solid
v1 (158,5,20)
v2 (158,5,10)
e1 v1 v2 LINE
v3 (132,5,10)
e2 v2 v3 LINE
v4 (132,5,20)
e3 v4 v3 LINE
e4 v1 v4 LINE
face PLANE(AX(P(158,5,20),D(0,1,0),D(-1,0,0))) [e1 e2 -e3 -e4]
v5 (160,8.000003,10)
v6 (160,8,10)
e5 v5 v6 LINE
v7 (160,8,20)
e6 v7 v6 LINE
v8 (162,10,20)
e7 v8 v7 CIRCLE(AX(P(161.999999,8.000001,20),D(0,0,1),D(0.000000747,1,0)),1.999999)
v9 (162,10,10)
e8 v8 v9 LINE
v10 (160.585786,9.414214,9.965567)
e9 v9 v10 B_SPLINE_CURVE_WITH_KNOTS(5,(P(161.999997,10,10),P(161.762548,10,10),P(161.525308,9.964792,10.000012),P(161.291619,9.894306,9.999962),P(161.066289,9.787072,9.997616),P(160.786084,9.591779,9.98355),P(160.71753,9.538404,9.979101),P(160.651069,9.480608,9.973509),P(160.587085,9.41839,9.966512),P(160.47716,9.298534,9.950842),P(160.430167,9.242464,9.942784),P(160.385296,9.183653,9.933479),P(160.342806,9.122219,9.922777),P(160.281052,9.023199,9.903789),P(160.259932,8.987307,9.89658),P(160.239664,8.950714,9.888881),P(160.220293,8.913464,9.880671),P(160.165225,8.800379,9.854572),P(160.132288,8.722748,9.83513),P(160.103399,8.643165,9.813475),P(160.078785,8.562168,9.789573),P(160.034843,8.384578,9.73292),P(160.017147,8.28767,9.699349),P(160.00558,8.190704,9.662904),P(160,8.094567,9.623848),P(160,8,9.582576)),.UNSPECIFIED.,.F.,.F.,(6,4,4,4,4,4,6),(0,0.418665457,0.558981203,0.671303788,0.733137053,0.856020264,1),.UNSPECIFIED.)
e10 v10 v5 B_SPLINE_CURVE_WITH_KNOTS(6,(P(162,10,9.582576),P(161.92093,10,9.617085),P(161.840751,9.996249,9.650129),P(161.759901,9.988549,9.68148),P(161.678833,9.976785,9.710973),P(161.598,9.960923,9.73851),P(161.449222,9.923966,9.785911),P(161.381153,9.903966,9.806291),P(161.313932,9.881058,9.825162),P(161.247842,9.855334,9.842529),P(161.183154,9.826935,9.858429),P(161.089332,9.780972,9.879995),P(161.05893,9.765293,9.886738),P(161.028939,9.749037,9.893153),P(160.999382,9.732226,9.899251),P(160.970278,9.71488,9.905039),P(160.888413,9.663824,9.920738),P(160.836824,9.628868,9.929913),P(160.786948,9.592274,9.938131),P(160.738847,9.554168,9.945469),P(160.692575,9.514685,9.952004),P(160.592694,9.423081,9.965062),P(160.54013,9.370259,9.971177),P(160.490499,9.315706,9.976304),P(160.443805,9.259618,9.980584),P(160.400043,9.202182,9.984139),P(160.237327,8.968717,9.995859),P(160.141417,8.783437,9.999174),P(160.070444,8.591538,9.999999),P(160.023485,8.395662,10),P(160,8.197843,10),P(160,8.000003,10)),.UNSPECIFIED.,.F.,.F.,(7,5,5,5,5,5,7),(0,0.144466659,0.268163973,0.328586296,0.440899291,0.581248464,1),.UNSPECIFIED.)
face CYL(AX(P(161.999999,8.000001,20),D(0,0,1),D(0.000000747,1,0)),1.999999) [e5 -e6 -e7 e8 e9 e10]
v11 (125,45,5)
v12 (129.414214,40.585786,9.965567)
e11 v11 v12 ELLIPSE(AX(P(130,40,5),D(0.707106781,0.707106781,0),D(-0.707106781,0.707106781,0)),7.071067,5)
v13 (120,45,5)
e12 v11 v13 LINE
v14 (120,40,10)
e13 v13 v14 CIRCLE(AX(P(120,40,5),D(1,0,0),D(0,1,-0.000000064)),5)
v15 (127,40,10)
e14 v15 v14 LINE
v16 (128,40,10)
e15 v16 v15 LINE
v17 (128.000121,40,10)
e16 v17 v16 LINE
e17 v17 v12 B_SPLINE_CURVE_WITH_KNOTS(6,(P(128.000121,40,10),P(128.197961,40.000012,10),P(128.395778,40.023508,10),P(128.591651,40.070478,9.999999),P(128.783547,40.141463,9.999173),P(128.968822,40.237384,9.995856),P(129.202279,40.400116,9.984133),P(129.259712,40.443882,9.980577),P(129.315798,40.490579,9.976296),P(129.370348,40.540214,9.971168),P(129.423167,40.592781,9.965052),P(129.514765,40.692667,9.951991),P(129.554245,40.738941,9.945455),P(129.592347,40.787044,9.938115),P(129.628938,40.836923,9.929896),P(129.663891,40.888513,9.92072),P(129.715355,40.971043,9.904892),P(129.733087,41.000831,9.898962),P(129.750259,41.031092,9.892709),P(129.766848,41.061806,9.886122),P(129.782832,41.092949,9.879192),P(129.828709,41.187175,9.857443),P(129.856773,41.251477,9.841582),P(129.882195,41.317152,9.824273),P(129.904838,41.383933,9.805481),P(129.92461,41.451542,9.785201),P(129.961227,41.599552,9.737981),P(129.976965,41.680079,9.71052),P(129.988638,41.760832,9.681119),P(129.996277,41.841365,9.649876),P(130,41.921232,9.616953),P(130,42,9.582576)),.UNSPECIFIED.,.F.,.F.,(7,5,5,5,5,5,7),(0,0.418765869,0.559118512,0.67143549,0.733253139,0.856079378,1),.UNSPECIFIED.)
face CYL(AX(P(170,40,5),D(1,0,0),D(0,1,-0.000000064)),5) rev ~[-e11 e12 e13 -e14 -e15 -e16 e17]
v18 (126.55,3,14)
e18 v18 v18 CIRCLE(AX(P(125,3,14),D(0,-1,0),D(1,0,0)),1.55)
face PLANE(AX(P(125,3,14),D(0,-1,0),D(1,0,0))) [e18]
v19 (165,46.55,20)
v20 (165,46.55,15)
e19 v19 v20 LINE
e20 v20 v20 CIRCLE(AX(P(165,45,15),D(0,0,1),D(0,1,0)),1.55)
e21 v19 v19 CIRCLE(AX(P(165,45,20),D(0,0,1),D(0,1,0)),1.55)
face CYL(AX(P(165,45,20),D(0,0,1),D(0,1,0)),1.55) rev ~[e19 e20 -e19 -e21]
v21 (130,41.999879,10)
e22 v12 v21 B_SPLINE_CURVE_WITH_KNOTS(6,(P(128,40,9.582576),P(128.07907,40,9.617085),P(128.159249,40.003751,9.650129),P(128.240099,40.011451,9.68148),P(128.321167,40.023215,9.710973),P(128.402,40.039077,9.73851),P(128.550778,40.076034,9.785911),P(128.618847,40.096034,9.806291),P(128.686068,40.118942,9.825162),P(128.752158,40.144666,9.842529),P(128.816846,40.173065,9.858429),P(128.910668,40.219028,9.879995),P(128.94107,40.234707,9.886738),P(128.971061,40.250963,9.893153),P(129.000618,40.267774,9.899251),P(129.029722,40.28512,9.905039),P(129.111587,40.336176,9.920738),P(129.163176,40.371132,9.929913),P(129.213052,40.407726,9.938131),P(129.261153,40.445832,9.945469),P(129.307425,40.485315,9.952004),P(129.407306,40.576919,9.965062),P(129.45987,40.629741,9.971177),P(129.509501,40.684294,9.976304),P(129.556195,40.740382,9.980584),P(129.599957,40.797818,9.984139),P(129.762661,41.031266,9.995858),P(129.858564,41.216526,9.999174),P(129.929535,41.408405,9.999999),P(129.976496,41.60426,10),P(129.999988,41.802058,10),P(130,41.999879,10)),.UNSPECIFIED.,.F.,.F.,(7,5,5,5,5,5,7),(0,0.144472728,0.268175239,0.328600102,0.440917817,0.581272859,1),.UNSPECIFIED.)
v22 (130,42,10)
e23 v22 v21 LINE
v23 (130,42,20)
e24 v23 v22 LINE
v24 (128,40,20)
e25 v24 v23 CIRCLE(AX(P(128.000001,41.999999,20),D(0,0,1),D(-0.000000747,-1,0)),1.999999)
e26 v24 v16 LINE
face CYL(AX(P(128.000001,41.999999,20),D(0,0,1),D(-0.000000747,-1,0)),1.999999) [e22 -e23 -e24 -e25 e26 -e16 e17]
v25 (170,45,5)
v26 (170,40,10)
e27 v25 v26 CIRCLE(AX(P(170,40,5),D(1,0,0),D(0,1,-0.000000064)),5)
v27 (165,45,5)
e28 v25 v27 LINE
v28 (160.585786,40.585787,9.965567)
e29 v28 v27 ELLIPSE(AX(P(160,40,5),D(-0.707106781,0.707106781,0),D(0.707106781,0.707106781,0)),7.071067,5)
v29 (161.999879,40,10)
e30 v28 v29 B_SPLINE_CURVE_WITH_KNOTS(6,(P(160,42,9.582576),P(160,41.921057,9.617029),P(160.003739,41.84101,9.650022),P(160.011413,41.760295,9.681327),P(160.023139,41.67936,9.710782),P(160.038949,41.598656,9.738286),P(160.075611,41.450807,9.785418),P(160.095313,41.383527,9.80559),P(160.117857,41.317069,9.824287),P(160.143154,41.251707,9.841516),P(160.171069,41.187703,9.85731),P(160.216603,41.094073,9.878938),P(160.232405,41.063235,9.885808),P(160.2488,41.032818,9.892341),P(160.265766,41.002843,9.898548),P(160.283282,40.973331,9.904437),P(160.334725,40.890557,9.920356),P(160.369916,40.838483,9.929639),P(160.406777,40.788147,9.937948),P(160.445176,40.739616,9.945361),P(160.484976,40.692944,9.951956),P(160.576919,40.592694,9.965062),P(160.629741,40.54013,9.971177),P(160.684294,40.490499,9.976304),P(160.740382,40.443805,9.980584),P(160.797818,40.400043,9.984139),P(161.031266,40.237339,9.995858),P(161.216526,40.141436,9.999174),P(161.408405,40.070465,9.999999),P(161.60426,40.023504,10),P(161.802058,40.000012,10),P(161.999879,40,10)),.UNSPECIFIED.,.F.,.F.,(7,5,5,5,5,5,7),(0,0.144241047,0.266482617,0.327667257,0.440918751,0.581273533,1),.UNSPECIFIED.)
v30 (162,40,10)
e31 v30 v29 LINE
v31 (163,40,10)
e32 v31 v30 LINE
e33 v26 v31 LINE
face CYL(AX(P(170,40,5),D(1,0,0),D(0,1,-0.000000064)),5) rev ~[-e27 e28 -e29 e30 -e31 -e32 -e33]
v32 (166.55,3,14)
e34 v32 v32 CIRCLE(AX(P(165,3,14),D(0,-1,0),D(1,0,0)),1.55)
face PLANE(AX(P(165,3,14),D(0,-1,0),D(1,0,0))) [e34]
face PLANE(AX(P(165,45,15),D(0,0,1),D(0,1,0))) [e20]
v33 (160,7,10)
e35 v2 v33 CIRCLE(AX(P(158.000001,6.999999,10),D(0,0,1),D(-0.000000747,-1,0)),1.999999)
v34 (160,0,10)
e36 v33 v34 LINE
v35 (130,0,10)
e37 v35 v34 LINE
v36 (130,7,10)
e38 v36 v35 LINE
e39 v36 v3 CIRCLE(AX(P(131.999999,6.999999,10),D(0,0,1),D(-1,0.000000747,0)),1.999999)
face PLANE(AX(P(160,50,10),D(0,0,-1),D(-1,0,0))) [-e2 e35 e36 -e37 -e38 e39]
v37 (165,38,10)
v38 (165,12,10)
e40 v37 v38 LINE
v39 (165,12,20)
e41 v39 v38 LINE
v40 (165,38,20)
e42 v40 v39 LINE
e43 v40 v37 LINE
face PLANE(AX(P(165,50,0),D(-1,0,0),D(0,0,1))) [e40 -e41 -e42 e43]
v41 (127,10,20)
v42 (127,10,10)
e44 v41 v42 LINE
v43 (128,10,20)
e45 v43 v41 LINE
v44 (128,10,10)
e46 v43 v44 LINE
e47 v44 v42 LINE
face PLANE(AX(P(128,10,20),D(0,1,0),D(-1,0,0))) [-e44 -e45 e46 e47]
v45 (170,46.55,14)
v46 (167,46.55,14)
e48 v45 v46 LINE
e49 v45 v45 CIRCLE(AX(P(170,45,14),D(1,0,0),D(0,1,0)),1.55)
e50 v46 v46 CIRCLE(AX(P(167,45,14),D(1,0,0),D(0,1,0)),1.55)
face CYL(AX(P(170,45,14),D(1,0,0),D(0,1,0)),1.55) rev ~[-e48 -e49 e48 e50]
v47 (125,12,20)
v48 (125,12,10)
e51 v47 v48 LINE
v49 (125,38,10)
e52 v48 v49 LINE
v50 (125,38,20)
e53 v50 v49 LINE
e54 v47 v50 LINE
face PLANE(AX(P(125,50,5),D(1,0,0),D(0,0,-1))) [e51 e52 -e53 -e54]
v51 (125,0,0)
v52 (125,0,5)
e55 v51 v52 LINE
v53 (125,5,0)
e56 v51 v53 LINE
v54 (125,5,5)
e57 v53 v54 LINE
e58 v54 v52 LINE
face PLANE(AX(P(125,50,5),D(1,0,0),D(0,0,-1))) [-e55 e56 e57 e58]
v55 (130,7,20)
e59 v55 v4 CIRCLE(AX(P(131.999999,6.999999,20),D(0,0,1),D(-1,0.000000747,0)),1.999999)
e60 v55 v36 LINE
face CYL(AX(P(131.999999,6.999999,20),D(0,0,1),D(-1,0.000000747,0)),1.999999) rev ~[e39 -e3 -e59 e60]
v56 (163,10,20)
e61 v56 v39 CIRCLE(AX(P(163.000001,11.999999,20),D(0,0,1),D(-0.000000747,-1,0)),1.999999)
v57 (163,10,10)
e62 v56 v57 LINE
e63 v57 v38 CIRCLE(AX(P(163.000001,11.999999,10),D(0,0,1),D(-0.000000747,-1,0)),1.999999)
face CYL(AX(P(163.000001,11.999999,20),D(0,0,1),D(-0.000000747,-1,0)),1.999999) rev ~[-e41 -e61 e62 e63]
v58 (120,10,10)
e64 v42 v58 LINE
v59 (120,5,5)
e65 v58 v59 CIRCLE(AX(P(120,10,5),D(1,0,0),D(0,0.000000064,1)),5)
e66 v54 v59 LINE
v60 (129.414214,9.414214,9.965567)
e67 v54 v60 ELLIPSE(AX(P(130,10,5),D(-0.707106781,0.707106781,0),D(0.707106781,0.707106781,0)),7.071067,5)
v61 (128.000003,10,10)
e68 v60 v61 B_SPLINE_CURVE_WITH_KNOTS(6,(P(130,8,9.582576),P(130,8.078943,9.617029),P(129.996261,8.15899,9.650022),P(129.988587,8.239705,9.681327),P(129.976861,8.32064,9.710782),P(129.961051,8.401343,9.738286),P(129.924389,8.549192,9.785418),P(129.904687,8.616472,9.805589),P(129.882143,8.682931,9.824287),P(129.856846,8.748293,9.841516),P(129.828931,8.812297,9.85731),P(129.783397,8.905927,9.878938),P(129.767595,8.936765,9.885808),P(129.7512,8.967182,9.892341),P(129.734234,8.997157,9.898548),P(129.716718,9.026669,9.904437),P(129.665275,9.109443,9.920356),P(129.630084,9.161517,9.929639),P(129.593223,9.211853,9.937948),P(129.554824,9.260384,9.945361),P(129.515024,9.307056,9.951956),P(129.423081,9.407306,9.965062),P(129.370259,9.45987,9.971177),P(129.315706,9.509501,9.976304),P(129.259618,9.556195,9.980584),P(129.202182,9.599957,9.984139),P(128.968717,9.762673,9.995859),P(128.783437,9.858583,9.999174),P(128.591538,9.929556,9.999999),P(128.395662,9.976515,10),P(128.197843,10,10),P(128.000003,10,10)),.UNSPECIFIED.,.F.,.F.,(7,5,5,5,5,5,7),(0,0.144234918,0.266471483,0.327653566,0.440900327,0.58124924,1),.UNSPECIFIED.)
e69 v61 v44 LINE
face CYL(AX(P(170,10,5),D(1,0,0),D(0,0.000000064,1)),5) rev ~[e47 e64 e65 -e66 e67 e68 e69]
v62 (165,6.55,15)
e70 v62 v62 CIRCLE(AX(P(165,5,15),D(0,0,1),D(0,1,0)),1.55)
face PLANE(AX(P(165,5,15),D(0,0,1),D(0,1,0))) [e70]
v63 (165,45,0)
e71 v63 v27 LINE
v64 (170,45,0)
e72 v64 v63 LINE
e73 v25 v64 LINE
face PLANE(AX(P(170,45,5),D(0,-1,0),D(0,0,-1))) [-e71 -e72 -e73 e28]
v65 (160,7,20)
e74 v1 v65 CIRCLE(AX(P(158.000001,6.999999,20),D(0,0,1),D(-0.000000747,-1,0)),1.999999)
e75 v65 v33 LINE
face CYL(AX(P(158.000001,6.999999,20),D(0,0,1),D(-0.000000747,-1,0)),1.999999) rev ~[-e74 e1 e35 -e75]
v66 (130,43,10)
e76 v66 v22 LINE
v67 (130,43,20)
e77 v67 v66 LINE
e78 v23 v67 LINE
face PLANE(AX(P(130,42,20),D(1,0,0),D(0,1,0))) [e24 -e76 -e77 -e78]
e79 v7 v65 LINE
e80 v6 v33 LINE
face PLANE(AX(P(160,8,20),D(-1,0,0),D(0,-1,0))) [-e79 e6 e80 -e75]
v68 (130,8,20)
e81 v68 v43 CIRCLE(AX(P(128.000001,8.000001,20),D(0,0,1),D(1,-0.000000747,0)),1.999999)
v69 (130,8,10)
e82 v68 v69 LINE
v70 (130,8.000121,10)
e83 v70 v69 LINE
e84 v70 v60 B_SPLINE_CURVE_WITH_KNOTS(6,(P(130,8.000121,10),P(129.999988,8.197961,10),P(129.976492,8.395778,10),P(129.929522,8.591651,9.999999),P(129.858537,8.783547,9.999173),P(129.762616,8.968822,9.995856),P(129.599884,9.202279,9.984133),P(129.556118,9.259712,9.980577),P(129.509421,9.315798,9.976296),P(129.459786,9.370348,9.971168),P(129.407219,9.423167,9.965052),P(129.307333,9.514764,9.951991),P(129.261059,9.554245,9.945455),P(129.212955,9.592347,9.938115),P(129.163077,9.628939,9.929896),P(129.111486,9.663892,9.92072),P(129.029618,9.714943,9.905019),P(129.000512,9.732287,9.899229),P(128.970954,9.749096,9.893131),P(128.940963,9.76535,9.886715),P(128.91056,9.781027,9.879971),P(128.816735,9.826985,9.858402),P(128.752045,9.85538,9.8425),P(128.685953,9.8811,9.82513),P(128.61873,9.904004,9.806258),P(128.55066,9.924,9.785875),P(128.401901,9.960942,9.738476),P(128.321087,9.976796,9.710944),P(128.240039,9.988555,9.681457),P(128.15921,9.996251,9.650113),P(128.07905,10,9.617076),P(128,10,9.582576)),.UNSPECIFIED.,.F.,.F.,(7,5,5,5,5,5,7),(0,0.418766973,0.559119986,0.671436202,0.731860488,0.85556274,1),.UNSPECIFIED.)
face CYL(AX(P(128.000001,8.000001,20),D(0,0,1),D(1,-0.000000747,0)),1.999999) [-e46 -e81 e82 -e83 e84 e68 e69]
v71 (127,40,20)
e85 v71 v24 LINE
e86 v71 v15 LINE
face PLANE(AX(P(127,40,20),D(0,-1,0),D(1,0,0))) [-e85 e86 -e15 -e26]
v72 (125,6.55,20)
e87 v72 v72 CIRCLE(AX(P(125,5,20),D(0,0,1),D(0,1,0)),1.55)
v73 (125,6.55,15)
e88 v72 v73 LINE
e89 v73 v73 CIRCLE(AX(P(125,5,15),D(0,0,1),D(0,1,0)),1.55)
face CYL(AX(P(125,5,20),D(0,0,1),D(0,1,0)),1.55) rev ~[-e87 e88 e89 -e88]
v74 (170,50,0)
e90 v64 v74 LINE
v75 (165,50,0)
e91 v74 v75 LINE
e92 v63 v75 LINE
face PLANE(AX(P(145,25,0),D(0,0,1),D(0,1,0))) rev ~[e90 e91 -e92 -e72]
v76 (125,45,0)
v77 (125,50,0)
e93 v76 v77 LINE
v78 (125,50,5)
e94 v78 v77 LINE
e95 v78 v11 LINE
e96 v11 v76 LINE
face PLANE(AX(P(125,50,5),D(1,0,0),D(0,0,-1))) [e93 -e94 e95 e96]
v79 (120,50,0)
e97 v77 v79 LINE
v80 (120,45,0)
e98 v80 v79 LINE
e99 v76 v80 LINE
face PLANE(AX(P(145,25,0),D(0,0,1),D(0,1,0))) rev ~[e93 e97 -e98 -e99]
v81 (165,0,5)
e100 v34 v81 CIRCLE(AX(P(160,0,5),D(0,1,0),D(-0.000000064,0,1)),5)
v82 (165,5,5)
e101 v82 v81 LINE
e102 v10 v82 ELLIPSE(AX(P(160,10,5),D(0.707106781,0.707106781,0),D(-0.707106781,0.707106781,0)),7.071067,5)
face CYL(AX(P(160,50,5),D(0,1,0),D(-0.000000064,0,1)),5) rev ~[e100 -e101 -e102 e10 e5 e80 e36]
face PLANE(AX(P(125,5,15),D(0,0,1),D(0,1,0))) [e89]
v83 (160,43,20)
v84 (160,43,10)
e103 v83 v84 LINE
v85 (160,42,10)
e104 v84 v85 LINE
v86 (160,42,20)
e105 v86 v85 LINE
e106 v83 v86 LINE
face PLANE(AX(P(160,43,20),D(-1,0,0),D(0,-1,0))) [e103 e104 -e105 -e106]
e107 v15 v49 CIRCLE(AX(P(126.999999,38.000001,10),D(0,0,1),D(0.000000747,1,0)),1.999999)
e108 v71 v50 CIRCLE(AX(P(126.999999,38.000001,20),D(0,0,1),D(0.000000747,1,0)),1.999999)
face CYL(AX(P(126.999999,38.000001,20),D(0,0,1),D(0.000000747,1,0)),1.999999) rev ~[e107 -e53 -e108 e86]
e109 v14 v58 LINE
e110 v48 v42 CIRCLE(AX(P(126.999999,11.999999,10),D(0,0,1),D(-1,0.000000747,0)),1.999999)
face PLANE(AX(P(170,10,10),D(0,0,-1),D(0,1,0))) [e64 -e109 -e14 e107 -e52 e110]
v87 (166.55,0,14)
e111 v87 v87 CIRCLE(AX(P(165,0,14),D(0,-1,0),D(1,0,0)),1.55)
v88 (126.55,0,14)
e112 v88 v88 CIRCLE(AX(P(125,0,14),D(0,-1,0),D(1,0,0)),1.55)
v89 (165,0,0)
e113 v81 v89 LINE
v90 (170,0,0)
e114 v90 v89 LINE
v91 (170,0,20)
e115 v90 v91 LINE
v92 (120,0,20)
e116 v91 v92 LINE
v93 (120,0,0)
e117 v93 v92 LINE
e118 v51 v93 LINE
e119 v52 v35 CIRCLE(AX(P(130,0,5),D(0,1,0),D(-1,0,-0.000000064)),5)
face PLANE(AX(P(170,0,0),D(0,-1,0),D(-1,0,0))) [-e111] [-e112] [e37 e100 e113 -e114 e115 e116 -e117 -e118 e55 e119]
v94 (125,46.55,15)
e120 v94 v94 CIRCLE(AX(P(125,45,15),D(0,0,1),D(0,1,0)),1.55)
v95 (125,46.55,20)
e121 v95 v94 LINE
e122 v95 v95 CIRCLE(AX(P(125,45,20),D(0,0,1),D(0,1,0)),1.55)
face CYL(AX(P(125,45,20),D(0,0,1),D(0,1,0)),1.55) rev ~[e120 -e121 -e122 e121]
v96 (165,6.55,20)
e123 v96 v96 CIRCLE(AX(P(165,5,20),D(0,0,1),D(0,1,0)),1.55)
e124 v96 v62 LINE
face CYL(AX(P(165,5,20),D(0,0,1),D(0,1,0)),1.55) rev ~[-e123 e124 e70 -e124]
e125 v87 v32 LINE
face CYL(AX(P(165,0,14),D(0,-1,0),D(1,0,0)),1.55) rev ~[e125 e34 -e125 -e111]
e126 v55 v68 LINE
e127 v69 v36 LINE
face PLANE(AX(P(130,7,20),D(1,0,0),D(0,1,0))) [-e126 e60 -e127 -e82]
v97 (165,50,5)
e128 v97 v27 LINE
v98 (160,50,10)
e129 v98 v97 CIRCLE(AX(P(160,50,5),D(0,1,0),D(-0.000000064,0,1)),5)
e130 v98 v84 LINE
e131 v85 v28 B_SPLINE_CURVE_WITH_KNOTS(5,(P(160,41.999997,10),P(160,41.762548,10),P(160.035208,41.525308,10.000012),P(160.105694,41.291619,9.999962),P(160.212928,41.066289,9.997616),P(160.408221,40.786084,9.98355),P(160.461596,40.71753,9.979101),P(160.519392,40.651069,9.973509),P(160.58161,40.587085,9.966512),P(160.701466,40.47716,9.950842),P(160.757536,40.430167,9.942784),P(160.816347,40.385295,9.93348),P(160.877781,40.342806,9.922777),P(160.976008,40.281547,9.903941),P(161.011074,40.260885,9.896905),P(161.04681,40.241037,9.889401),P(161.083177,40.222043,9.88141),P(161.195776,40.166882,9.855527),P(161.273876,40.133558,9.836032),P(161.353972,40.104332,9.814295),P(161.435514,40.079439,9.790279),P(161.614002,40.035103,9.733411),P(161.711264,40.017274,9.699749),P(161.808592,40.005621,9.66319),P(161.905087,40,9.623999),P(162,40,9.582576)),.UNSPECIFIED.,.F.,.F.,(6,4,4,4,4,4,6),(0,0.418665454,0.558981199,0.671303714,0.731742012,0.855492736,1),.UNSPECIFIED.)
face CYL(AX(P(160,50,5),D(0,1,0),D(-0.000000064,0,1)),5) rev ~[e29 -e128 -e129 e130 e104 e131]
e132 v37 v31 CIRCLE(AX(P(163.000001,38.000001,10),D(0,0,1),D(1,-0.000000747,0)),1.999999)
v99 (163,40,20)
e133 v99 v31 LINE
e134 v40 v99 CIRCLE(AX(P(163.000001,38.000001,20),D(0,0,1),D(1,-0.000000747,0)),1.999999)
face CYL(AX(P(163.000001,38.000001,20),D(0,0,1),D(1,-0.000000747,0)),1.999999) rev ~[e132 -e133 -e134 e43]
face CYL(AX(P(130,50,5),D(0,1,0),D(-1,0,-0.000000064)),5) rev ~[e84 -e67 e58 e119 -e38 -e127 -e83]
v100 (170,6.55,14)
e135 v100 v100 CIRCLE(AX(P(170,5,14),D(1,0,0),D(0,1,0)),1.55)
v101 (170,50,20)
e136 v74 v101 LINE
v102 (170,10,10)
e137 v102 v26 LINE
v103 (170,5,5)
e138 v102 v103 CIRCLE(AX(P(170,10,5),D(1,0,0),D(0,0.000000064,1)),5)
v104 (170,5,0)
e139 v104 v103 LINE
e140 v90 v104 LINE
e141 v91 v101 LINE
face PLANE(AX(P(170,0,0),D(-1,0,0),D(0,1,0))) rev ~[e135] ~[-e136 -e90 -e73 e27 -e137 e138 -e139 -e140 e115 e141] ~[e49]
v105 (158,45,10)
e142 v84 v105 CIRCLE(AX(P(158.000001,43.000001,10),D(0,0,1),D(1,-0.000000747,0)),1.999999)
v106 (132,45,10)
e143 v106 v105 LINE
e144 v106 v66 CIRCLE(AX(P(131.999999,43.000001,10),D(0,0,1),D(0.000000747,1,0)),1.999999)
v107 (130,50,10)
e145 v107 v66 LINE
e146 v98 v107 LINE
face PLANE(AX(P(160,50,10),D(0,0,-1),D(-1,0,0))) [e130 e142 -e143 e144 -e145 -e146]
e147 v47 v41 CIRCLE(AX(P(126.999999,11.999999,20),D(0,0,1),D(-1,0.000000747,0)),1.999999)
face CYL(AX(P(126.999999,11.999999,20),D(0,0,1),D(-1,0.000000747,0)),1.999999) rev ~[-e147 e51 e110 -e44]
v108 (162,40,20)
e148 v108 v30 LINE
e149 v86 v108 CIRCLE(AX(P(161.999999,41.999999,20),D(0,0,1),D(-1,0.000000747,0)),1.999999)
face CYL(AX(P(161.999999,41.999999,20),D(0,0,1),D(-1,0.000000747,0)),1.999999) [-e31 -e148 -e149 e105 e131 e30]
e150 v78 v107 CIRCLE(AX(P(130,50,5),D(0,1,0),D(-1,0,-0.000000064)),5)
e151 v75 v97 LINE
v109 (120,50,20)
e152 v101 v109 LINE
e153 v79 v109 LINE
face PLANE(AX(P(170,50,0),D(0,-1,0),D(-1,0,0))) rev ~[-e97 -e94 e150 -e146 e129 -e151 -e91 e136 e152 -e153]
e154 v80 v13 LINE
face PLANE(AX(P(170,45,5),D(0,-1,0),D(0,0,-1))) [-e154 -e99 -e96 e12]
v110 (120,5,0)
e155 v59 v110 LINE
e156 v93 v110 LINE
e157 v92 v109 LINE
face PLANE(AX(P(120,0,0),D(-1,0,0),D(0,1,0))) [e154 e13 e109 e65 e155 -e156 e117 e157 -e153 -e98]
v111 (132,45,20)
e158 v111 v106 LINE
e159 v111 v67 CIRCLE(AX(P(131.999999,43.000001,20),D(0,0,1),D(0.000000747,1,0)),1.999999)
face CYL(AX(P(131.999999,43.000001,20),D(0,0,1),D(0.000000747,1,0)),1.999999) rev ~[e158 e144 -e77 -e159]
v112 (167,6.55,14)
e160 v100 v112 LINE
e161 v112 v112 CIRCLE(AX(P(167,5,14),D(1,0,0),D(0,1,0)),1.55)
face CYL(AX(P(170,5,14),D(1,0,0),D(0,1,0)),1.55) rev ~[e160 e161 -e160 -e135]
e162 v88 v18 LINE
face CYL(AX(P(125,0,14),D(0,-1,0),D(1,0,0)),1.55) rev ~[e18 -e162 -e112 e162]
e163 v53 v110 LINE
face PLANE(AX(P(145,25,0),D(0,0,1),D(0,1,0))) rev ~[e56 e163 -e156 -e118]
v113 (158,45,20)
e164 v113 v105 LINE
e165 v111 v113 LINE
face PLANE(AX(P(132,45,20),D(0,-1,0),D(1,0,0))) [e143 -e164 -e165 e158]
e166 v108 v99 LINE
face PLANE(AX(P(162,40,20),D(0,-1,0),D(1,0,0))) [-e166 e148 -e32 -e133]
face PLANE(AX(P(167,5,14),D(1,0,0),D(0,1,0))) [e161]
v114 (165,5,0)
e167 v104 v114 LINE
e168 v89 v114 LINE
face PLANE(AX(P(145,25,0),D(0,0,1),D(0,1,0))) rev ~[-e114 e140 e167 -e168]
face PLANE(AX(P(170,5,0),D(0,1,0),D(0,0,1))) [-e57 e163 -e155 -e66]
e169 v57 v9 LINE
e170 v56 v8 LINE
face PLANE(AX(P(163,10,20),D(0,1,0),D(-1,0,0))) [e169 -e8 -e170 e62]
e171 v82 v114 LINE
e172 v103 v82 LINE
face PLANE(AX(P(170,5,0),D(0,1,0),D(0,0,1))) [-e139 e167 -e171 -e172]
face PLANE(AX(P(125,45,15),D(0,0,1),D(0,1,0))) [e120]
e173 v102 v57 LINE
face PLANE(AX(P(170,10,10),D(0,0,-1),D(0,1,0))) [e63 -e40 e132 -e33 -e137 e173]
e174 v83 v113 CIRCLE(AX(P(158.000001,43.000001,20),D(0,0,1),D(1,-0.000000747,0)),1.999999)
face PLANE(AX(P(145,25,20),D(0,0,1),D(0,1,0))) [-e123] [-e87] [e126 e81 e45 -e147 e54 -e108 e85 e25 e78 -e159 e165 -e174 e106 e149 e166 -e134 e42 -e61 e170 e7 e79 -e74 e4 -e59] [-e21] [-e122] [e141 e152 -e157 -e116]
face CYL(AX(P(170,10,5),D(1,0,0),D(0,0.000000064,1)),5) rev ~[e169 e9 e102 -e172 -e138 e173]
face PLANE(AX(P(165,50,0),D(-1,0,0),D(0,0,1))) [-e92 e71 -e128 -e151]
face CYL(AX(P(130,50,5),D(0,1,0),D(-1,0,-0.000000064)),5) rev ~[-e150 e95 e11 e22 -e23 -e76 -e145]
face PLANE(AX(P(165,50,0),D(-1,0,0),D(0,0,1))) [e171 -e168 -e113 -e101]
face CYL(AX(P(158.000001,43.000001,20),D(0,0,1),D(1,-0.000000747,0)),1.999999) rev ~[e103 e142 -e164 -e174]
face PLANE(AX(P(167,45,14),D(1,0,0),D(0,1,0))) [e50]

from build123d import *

# Parameters (mm, degrees)
SKETCH100_W             = 50
SKETCH100_H             = 50
PAD017_DEPTH            = 20
POCKET084_DEPTH         = 20.001
POCKET085_DEPTH         = 50.001
POCKET086_DEPTH         = 50.001
SKETCH104_R             = 1.55
POCKET087_DEPTH         = 5
SKETCH105_R             = 1.55
POCKET088_DEPTH         = 3
SKETCH106_R             = 1.55
POCKET089_DEPTH         = 3
BODY018_PLACEMENT_ANGLE = 90


with BuildPart() as part:
    # Sketch100 → Pad017 (new body)
    with BuildSketch(Plane.XY):
        Rectangle(SKETCH100_W, SKETCH100_H)
    extrude(amount=PAD017_DEPTH)

    # Sketch101 (on Face6 of Pad017) → Pocket084 (cut, through all)
    with BuildSketch(Plane.XY.offset(20)):
        with BuildLine():
            Line((-18, 15), (-17, 15))
            ThreePointArc((-17, 15), (-15.585786, 15.585786), (-15, 17))
            Line((-15, 17), (-15, 18))
            ThreePointArc((-13, 20), (-14.414214, 19.414214), (-15, 18))
            Line((-13, 20), (13, 20))
            ThreePointArc((15, 18), (14.414214, 19.414214), (13, 20))
            Line((15, 18), (15, 17))
            ThreePointArc((15, 17), (15.585786, 15.585786), (17, 15))
            Line((17, 15), (18, 15))
            ThreePointArc((20, 13), (19.414214, 14.414214), (18, 15))
            Line((20, 13), (20, -13))
            ThreePointArc((18, -15), (19.414214, -14.414214), (20, -13))
            Line((18, -15), (17, -15))
            ThreePointArc((17, -15), (15.585786, -15.585786), (15, -17))
            Line((15, -17), (15, -18))
            ThreePointArc((13, -20), (14.414214, -19.414214), (15, -18))
            Line((13, -20), (-13, -20))
            ThreePointArc((-15, -18), (-14.414214, -19.414214), (-13, -20))
            Line((-15, -18), (-15, -17))
            ThreePointArc((-15, -17), (-15.585786, -15.585786), (-17, -15))
            Line((-17, -15), (-18, -15))
            ThreePointArc((-20, -13), (-19.414214, -14.414214), (-18, -15))
            Line((-20, -13), (-20, 13))
            ThreePointArc((-18, 15), (-19.414214, 14.414214), (-20, 13))
        make_face()
    extrude(amount=-POCKET084_DEPTH, mode=Mode.SUBTRACT)

    # Sketch102 (on Face3 of Pocket084) → Pocket085 (cut, through all)
    with BuildSketch(Plane.YZ.offset(25)):
        with BuildLine():
            Line((-15, 10), (15, 10))
            ThreePointArc((20, 5), (18.535534, 8.535534), (15, 10))
            Line((20, 5), (20, 0))
            Line((20, 0), (-20, 0))
            Line((-20, 0), (-20, 5))
            ThreePointArc((-15, 10), (-18.535534, 8.535534), (-20, 5))
        make_face()
    extrude(amount=-POCKET085_DEPTH, mode=Mode.SUBTRACT)

    # Sketch103 (on Face6 of Pocket084) → Pocket086 (cut, through all)
    with BuildSketch(Plane.XZ.offset(25)):
        with BuildLine():
            Line((-15, 10), (15, 10))
            ThreePointArc((20, 5), (18.535534, 8.535534), (15, 10))
            Line((20, 5), (20, 0))
            Line((20, 0), (-20, 0))
            Line((-20, 0), (-20, 5))
            ThreePointArc((-15, 10), (-18.535534, 8.535534), (-20, 5))
        make_face()
    extrude(amount=-POCKET086_DEPTH, mode=Mode.SUBTRACT)

    # Sketch104 → Pocket087 (cut)
    with BuildSketch(Plane.XY.offset(20)):
        with Locations((-20, 20)):
            Circle(SKETCH104_R)
        with Locations((20, 20)):
            Circle(SKETCH104_R)
        with Locations((20, -20)):
            Circle(SKETCH104_R)
        with Locations((-20, -20)):
            Circle(SKETCH104_R)
    extrude(amount=-POCKET087_DEPTH, mode=Mode.SUBTRACT)

    # Sketch105 (on Face27 of Pocket087) → Pocket088 (cut)
    with BuildSketch(Plane.XZ.offset(25)):
        with Locations((-20, 14)):
            Circle(SKETCH105_R)
        with Locations((20, 14)):
            Circle(SKETCH105_R)
    extrude(amount=-POCKET088_DEPTH, mode=Mode.SUBTRACT)

    # Sketch106 (on Face11 of Pocket088) → Pocket089 (cut)
    with BuildSketch(Plane(origin=(-25, 0, 0), x_dir=(0, -1, 0), z_dir=(-1, 0, 0))):
        with Locations((-20, 14)):
            Circle(SKETCH106_R)
        with Locations((20, 14)):
            Circle(SKETCH106_R)
    extrude(amount=-POCKET089_DEPTH, mode=Mode.SUBTRACT)


with BuildPart() as part_1:
    # Body018 placement: moved
    add(part.part.moved(Location((145, 25, 0))).rotate(Axis((145, 25, 0), (0, 0, 1)), BODY018_PLACEMENT_ANGLE))


solid = part_1.part
